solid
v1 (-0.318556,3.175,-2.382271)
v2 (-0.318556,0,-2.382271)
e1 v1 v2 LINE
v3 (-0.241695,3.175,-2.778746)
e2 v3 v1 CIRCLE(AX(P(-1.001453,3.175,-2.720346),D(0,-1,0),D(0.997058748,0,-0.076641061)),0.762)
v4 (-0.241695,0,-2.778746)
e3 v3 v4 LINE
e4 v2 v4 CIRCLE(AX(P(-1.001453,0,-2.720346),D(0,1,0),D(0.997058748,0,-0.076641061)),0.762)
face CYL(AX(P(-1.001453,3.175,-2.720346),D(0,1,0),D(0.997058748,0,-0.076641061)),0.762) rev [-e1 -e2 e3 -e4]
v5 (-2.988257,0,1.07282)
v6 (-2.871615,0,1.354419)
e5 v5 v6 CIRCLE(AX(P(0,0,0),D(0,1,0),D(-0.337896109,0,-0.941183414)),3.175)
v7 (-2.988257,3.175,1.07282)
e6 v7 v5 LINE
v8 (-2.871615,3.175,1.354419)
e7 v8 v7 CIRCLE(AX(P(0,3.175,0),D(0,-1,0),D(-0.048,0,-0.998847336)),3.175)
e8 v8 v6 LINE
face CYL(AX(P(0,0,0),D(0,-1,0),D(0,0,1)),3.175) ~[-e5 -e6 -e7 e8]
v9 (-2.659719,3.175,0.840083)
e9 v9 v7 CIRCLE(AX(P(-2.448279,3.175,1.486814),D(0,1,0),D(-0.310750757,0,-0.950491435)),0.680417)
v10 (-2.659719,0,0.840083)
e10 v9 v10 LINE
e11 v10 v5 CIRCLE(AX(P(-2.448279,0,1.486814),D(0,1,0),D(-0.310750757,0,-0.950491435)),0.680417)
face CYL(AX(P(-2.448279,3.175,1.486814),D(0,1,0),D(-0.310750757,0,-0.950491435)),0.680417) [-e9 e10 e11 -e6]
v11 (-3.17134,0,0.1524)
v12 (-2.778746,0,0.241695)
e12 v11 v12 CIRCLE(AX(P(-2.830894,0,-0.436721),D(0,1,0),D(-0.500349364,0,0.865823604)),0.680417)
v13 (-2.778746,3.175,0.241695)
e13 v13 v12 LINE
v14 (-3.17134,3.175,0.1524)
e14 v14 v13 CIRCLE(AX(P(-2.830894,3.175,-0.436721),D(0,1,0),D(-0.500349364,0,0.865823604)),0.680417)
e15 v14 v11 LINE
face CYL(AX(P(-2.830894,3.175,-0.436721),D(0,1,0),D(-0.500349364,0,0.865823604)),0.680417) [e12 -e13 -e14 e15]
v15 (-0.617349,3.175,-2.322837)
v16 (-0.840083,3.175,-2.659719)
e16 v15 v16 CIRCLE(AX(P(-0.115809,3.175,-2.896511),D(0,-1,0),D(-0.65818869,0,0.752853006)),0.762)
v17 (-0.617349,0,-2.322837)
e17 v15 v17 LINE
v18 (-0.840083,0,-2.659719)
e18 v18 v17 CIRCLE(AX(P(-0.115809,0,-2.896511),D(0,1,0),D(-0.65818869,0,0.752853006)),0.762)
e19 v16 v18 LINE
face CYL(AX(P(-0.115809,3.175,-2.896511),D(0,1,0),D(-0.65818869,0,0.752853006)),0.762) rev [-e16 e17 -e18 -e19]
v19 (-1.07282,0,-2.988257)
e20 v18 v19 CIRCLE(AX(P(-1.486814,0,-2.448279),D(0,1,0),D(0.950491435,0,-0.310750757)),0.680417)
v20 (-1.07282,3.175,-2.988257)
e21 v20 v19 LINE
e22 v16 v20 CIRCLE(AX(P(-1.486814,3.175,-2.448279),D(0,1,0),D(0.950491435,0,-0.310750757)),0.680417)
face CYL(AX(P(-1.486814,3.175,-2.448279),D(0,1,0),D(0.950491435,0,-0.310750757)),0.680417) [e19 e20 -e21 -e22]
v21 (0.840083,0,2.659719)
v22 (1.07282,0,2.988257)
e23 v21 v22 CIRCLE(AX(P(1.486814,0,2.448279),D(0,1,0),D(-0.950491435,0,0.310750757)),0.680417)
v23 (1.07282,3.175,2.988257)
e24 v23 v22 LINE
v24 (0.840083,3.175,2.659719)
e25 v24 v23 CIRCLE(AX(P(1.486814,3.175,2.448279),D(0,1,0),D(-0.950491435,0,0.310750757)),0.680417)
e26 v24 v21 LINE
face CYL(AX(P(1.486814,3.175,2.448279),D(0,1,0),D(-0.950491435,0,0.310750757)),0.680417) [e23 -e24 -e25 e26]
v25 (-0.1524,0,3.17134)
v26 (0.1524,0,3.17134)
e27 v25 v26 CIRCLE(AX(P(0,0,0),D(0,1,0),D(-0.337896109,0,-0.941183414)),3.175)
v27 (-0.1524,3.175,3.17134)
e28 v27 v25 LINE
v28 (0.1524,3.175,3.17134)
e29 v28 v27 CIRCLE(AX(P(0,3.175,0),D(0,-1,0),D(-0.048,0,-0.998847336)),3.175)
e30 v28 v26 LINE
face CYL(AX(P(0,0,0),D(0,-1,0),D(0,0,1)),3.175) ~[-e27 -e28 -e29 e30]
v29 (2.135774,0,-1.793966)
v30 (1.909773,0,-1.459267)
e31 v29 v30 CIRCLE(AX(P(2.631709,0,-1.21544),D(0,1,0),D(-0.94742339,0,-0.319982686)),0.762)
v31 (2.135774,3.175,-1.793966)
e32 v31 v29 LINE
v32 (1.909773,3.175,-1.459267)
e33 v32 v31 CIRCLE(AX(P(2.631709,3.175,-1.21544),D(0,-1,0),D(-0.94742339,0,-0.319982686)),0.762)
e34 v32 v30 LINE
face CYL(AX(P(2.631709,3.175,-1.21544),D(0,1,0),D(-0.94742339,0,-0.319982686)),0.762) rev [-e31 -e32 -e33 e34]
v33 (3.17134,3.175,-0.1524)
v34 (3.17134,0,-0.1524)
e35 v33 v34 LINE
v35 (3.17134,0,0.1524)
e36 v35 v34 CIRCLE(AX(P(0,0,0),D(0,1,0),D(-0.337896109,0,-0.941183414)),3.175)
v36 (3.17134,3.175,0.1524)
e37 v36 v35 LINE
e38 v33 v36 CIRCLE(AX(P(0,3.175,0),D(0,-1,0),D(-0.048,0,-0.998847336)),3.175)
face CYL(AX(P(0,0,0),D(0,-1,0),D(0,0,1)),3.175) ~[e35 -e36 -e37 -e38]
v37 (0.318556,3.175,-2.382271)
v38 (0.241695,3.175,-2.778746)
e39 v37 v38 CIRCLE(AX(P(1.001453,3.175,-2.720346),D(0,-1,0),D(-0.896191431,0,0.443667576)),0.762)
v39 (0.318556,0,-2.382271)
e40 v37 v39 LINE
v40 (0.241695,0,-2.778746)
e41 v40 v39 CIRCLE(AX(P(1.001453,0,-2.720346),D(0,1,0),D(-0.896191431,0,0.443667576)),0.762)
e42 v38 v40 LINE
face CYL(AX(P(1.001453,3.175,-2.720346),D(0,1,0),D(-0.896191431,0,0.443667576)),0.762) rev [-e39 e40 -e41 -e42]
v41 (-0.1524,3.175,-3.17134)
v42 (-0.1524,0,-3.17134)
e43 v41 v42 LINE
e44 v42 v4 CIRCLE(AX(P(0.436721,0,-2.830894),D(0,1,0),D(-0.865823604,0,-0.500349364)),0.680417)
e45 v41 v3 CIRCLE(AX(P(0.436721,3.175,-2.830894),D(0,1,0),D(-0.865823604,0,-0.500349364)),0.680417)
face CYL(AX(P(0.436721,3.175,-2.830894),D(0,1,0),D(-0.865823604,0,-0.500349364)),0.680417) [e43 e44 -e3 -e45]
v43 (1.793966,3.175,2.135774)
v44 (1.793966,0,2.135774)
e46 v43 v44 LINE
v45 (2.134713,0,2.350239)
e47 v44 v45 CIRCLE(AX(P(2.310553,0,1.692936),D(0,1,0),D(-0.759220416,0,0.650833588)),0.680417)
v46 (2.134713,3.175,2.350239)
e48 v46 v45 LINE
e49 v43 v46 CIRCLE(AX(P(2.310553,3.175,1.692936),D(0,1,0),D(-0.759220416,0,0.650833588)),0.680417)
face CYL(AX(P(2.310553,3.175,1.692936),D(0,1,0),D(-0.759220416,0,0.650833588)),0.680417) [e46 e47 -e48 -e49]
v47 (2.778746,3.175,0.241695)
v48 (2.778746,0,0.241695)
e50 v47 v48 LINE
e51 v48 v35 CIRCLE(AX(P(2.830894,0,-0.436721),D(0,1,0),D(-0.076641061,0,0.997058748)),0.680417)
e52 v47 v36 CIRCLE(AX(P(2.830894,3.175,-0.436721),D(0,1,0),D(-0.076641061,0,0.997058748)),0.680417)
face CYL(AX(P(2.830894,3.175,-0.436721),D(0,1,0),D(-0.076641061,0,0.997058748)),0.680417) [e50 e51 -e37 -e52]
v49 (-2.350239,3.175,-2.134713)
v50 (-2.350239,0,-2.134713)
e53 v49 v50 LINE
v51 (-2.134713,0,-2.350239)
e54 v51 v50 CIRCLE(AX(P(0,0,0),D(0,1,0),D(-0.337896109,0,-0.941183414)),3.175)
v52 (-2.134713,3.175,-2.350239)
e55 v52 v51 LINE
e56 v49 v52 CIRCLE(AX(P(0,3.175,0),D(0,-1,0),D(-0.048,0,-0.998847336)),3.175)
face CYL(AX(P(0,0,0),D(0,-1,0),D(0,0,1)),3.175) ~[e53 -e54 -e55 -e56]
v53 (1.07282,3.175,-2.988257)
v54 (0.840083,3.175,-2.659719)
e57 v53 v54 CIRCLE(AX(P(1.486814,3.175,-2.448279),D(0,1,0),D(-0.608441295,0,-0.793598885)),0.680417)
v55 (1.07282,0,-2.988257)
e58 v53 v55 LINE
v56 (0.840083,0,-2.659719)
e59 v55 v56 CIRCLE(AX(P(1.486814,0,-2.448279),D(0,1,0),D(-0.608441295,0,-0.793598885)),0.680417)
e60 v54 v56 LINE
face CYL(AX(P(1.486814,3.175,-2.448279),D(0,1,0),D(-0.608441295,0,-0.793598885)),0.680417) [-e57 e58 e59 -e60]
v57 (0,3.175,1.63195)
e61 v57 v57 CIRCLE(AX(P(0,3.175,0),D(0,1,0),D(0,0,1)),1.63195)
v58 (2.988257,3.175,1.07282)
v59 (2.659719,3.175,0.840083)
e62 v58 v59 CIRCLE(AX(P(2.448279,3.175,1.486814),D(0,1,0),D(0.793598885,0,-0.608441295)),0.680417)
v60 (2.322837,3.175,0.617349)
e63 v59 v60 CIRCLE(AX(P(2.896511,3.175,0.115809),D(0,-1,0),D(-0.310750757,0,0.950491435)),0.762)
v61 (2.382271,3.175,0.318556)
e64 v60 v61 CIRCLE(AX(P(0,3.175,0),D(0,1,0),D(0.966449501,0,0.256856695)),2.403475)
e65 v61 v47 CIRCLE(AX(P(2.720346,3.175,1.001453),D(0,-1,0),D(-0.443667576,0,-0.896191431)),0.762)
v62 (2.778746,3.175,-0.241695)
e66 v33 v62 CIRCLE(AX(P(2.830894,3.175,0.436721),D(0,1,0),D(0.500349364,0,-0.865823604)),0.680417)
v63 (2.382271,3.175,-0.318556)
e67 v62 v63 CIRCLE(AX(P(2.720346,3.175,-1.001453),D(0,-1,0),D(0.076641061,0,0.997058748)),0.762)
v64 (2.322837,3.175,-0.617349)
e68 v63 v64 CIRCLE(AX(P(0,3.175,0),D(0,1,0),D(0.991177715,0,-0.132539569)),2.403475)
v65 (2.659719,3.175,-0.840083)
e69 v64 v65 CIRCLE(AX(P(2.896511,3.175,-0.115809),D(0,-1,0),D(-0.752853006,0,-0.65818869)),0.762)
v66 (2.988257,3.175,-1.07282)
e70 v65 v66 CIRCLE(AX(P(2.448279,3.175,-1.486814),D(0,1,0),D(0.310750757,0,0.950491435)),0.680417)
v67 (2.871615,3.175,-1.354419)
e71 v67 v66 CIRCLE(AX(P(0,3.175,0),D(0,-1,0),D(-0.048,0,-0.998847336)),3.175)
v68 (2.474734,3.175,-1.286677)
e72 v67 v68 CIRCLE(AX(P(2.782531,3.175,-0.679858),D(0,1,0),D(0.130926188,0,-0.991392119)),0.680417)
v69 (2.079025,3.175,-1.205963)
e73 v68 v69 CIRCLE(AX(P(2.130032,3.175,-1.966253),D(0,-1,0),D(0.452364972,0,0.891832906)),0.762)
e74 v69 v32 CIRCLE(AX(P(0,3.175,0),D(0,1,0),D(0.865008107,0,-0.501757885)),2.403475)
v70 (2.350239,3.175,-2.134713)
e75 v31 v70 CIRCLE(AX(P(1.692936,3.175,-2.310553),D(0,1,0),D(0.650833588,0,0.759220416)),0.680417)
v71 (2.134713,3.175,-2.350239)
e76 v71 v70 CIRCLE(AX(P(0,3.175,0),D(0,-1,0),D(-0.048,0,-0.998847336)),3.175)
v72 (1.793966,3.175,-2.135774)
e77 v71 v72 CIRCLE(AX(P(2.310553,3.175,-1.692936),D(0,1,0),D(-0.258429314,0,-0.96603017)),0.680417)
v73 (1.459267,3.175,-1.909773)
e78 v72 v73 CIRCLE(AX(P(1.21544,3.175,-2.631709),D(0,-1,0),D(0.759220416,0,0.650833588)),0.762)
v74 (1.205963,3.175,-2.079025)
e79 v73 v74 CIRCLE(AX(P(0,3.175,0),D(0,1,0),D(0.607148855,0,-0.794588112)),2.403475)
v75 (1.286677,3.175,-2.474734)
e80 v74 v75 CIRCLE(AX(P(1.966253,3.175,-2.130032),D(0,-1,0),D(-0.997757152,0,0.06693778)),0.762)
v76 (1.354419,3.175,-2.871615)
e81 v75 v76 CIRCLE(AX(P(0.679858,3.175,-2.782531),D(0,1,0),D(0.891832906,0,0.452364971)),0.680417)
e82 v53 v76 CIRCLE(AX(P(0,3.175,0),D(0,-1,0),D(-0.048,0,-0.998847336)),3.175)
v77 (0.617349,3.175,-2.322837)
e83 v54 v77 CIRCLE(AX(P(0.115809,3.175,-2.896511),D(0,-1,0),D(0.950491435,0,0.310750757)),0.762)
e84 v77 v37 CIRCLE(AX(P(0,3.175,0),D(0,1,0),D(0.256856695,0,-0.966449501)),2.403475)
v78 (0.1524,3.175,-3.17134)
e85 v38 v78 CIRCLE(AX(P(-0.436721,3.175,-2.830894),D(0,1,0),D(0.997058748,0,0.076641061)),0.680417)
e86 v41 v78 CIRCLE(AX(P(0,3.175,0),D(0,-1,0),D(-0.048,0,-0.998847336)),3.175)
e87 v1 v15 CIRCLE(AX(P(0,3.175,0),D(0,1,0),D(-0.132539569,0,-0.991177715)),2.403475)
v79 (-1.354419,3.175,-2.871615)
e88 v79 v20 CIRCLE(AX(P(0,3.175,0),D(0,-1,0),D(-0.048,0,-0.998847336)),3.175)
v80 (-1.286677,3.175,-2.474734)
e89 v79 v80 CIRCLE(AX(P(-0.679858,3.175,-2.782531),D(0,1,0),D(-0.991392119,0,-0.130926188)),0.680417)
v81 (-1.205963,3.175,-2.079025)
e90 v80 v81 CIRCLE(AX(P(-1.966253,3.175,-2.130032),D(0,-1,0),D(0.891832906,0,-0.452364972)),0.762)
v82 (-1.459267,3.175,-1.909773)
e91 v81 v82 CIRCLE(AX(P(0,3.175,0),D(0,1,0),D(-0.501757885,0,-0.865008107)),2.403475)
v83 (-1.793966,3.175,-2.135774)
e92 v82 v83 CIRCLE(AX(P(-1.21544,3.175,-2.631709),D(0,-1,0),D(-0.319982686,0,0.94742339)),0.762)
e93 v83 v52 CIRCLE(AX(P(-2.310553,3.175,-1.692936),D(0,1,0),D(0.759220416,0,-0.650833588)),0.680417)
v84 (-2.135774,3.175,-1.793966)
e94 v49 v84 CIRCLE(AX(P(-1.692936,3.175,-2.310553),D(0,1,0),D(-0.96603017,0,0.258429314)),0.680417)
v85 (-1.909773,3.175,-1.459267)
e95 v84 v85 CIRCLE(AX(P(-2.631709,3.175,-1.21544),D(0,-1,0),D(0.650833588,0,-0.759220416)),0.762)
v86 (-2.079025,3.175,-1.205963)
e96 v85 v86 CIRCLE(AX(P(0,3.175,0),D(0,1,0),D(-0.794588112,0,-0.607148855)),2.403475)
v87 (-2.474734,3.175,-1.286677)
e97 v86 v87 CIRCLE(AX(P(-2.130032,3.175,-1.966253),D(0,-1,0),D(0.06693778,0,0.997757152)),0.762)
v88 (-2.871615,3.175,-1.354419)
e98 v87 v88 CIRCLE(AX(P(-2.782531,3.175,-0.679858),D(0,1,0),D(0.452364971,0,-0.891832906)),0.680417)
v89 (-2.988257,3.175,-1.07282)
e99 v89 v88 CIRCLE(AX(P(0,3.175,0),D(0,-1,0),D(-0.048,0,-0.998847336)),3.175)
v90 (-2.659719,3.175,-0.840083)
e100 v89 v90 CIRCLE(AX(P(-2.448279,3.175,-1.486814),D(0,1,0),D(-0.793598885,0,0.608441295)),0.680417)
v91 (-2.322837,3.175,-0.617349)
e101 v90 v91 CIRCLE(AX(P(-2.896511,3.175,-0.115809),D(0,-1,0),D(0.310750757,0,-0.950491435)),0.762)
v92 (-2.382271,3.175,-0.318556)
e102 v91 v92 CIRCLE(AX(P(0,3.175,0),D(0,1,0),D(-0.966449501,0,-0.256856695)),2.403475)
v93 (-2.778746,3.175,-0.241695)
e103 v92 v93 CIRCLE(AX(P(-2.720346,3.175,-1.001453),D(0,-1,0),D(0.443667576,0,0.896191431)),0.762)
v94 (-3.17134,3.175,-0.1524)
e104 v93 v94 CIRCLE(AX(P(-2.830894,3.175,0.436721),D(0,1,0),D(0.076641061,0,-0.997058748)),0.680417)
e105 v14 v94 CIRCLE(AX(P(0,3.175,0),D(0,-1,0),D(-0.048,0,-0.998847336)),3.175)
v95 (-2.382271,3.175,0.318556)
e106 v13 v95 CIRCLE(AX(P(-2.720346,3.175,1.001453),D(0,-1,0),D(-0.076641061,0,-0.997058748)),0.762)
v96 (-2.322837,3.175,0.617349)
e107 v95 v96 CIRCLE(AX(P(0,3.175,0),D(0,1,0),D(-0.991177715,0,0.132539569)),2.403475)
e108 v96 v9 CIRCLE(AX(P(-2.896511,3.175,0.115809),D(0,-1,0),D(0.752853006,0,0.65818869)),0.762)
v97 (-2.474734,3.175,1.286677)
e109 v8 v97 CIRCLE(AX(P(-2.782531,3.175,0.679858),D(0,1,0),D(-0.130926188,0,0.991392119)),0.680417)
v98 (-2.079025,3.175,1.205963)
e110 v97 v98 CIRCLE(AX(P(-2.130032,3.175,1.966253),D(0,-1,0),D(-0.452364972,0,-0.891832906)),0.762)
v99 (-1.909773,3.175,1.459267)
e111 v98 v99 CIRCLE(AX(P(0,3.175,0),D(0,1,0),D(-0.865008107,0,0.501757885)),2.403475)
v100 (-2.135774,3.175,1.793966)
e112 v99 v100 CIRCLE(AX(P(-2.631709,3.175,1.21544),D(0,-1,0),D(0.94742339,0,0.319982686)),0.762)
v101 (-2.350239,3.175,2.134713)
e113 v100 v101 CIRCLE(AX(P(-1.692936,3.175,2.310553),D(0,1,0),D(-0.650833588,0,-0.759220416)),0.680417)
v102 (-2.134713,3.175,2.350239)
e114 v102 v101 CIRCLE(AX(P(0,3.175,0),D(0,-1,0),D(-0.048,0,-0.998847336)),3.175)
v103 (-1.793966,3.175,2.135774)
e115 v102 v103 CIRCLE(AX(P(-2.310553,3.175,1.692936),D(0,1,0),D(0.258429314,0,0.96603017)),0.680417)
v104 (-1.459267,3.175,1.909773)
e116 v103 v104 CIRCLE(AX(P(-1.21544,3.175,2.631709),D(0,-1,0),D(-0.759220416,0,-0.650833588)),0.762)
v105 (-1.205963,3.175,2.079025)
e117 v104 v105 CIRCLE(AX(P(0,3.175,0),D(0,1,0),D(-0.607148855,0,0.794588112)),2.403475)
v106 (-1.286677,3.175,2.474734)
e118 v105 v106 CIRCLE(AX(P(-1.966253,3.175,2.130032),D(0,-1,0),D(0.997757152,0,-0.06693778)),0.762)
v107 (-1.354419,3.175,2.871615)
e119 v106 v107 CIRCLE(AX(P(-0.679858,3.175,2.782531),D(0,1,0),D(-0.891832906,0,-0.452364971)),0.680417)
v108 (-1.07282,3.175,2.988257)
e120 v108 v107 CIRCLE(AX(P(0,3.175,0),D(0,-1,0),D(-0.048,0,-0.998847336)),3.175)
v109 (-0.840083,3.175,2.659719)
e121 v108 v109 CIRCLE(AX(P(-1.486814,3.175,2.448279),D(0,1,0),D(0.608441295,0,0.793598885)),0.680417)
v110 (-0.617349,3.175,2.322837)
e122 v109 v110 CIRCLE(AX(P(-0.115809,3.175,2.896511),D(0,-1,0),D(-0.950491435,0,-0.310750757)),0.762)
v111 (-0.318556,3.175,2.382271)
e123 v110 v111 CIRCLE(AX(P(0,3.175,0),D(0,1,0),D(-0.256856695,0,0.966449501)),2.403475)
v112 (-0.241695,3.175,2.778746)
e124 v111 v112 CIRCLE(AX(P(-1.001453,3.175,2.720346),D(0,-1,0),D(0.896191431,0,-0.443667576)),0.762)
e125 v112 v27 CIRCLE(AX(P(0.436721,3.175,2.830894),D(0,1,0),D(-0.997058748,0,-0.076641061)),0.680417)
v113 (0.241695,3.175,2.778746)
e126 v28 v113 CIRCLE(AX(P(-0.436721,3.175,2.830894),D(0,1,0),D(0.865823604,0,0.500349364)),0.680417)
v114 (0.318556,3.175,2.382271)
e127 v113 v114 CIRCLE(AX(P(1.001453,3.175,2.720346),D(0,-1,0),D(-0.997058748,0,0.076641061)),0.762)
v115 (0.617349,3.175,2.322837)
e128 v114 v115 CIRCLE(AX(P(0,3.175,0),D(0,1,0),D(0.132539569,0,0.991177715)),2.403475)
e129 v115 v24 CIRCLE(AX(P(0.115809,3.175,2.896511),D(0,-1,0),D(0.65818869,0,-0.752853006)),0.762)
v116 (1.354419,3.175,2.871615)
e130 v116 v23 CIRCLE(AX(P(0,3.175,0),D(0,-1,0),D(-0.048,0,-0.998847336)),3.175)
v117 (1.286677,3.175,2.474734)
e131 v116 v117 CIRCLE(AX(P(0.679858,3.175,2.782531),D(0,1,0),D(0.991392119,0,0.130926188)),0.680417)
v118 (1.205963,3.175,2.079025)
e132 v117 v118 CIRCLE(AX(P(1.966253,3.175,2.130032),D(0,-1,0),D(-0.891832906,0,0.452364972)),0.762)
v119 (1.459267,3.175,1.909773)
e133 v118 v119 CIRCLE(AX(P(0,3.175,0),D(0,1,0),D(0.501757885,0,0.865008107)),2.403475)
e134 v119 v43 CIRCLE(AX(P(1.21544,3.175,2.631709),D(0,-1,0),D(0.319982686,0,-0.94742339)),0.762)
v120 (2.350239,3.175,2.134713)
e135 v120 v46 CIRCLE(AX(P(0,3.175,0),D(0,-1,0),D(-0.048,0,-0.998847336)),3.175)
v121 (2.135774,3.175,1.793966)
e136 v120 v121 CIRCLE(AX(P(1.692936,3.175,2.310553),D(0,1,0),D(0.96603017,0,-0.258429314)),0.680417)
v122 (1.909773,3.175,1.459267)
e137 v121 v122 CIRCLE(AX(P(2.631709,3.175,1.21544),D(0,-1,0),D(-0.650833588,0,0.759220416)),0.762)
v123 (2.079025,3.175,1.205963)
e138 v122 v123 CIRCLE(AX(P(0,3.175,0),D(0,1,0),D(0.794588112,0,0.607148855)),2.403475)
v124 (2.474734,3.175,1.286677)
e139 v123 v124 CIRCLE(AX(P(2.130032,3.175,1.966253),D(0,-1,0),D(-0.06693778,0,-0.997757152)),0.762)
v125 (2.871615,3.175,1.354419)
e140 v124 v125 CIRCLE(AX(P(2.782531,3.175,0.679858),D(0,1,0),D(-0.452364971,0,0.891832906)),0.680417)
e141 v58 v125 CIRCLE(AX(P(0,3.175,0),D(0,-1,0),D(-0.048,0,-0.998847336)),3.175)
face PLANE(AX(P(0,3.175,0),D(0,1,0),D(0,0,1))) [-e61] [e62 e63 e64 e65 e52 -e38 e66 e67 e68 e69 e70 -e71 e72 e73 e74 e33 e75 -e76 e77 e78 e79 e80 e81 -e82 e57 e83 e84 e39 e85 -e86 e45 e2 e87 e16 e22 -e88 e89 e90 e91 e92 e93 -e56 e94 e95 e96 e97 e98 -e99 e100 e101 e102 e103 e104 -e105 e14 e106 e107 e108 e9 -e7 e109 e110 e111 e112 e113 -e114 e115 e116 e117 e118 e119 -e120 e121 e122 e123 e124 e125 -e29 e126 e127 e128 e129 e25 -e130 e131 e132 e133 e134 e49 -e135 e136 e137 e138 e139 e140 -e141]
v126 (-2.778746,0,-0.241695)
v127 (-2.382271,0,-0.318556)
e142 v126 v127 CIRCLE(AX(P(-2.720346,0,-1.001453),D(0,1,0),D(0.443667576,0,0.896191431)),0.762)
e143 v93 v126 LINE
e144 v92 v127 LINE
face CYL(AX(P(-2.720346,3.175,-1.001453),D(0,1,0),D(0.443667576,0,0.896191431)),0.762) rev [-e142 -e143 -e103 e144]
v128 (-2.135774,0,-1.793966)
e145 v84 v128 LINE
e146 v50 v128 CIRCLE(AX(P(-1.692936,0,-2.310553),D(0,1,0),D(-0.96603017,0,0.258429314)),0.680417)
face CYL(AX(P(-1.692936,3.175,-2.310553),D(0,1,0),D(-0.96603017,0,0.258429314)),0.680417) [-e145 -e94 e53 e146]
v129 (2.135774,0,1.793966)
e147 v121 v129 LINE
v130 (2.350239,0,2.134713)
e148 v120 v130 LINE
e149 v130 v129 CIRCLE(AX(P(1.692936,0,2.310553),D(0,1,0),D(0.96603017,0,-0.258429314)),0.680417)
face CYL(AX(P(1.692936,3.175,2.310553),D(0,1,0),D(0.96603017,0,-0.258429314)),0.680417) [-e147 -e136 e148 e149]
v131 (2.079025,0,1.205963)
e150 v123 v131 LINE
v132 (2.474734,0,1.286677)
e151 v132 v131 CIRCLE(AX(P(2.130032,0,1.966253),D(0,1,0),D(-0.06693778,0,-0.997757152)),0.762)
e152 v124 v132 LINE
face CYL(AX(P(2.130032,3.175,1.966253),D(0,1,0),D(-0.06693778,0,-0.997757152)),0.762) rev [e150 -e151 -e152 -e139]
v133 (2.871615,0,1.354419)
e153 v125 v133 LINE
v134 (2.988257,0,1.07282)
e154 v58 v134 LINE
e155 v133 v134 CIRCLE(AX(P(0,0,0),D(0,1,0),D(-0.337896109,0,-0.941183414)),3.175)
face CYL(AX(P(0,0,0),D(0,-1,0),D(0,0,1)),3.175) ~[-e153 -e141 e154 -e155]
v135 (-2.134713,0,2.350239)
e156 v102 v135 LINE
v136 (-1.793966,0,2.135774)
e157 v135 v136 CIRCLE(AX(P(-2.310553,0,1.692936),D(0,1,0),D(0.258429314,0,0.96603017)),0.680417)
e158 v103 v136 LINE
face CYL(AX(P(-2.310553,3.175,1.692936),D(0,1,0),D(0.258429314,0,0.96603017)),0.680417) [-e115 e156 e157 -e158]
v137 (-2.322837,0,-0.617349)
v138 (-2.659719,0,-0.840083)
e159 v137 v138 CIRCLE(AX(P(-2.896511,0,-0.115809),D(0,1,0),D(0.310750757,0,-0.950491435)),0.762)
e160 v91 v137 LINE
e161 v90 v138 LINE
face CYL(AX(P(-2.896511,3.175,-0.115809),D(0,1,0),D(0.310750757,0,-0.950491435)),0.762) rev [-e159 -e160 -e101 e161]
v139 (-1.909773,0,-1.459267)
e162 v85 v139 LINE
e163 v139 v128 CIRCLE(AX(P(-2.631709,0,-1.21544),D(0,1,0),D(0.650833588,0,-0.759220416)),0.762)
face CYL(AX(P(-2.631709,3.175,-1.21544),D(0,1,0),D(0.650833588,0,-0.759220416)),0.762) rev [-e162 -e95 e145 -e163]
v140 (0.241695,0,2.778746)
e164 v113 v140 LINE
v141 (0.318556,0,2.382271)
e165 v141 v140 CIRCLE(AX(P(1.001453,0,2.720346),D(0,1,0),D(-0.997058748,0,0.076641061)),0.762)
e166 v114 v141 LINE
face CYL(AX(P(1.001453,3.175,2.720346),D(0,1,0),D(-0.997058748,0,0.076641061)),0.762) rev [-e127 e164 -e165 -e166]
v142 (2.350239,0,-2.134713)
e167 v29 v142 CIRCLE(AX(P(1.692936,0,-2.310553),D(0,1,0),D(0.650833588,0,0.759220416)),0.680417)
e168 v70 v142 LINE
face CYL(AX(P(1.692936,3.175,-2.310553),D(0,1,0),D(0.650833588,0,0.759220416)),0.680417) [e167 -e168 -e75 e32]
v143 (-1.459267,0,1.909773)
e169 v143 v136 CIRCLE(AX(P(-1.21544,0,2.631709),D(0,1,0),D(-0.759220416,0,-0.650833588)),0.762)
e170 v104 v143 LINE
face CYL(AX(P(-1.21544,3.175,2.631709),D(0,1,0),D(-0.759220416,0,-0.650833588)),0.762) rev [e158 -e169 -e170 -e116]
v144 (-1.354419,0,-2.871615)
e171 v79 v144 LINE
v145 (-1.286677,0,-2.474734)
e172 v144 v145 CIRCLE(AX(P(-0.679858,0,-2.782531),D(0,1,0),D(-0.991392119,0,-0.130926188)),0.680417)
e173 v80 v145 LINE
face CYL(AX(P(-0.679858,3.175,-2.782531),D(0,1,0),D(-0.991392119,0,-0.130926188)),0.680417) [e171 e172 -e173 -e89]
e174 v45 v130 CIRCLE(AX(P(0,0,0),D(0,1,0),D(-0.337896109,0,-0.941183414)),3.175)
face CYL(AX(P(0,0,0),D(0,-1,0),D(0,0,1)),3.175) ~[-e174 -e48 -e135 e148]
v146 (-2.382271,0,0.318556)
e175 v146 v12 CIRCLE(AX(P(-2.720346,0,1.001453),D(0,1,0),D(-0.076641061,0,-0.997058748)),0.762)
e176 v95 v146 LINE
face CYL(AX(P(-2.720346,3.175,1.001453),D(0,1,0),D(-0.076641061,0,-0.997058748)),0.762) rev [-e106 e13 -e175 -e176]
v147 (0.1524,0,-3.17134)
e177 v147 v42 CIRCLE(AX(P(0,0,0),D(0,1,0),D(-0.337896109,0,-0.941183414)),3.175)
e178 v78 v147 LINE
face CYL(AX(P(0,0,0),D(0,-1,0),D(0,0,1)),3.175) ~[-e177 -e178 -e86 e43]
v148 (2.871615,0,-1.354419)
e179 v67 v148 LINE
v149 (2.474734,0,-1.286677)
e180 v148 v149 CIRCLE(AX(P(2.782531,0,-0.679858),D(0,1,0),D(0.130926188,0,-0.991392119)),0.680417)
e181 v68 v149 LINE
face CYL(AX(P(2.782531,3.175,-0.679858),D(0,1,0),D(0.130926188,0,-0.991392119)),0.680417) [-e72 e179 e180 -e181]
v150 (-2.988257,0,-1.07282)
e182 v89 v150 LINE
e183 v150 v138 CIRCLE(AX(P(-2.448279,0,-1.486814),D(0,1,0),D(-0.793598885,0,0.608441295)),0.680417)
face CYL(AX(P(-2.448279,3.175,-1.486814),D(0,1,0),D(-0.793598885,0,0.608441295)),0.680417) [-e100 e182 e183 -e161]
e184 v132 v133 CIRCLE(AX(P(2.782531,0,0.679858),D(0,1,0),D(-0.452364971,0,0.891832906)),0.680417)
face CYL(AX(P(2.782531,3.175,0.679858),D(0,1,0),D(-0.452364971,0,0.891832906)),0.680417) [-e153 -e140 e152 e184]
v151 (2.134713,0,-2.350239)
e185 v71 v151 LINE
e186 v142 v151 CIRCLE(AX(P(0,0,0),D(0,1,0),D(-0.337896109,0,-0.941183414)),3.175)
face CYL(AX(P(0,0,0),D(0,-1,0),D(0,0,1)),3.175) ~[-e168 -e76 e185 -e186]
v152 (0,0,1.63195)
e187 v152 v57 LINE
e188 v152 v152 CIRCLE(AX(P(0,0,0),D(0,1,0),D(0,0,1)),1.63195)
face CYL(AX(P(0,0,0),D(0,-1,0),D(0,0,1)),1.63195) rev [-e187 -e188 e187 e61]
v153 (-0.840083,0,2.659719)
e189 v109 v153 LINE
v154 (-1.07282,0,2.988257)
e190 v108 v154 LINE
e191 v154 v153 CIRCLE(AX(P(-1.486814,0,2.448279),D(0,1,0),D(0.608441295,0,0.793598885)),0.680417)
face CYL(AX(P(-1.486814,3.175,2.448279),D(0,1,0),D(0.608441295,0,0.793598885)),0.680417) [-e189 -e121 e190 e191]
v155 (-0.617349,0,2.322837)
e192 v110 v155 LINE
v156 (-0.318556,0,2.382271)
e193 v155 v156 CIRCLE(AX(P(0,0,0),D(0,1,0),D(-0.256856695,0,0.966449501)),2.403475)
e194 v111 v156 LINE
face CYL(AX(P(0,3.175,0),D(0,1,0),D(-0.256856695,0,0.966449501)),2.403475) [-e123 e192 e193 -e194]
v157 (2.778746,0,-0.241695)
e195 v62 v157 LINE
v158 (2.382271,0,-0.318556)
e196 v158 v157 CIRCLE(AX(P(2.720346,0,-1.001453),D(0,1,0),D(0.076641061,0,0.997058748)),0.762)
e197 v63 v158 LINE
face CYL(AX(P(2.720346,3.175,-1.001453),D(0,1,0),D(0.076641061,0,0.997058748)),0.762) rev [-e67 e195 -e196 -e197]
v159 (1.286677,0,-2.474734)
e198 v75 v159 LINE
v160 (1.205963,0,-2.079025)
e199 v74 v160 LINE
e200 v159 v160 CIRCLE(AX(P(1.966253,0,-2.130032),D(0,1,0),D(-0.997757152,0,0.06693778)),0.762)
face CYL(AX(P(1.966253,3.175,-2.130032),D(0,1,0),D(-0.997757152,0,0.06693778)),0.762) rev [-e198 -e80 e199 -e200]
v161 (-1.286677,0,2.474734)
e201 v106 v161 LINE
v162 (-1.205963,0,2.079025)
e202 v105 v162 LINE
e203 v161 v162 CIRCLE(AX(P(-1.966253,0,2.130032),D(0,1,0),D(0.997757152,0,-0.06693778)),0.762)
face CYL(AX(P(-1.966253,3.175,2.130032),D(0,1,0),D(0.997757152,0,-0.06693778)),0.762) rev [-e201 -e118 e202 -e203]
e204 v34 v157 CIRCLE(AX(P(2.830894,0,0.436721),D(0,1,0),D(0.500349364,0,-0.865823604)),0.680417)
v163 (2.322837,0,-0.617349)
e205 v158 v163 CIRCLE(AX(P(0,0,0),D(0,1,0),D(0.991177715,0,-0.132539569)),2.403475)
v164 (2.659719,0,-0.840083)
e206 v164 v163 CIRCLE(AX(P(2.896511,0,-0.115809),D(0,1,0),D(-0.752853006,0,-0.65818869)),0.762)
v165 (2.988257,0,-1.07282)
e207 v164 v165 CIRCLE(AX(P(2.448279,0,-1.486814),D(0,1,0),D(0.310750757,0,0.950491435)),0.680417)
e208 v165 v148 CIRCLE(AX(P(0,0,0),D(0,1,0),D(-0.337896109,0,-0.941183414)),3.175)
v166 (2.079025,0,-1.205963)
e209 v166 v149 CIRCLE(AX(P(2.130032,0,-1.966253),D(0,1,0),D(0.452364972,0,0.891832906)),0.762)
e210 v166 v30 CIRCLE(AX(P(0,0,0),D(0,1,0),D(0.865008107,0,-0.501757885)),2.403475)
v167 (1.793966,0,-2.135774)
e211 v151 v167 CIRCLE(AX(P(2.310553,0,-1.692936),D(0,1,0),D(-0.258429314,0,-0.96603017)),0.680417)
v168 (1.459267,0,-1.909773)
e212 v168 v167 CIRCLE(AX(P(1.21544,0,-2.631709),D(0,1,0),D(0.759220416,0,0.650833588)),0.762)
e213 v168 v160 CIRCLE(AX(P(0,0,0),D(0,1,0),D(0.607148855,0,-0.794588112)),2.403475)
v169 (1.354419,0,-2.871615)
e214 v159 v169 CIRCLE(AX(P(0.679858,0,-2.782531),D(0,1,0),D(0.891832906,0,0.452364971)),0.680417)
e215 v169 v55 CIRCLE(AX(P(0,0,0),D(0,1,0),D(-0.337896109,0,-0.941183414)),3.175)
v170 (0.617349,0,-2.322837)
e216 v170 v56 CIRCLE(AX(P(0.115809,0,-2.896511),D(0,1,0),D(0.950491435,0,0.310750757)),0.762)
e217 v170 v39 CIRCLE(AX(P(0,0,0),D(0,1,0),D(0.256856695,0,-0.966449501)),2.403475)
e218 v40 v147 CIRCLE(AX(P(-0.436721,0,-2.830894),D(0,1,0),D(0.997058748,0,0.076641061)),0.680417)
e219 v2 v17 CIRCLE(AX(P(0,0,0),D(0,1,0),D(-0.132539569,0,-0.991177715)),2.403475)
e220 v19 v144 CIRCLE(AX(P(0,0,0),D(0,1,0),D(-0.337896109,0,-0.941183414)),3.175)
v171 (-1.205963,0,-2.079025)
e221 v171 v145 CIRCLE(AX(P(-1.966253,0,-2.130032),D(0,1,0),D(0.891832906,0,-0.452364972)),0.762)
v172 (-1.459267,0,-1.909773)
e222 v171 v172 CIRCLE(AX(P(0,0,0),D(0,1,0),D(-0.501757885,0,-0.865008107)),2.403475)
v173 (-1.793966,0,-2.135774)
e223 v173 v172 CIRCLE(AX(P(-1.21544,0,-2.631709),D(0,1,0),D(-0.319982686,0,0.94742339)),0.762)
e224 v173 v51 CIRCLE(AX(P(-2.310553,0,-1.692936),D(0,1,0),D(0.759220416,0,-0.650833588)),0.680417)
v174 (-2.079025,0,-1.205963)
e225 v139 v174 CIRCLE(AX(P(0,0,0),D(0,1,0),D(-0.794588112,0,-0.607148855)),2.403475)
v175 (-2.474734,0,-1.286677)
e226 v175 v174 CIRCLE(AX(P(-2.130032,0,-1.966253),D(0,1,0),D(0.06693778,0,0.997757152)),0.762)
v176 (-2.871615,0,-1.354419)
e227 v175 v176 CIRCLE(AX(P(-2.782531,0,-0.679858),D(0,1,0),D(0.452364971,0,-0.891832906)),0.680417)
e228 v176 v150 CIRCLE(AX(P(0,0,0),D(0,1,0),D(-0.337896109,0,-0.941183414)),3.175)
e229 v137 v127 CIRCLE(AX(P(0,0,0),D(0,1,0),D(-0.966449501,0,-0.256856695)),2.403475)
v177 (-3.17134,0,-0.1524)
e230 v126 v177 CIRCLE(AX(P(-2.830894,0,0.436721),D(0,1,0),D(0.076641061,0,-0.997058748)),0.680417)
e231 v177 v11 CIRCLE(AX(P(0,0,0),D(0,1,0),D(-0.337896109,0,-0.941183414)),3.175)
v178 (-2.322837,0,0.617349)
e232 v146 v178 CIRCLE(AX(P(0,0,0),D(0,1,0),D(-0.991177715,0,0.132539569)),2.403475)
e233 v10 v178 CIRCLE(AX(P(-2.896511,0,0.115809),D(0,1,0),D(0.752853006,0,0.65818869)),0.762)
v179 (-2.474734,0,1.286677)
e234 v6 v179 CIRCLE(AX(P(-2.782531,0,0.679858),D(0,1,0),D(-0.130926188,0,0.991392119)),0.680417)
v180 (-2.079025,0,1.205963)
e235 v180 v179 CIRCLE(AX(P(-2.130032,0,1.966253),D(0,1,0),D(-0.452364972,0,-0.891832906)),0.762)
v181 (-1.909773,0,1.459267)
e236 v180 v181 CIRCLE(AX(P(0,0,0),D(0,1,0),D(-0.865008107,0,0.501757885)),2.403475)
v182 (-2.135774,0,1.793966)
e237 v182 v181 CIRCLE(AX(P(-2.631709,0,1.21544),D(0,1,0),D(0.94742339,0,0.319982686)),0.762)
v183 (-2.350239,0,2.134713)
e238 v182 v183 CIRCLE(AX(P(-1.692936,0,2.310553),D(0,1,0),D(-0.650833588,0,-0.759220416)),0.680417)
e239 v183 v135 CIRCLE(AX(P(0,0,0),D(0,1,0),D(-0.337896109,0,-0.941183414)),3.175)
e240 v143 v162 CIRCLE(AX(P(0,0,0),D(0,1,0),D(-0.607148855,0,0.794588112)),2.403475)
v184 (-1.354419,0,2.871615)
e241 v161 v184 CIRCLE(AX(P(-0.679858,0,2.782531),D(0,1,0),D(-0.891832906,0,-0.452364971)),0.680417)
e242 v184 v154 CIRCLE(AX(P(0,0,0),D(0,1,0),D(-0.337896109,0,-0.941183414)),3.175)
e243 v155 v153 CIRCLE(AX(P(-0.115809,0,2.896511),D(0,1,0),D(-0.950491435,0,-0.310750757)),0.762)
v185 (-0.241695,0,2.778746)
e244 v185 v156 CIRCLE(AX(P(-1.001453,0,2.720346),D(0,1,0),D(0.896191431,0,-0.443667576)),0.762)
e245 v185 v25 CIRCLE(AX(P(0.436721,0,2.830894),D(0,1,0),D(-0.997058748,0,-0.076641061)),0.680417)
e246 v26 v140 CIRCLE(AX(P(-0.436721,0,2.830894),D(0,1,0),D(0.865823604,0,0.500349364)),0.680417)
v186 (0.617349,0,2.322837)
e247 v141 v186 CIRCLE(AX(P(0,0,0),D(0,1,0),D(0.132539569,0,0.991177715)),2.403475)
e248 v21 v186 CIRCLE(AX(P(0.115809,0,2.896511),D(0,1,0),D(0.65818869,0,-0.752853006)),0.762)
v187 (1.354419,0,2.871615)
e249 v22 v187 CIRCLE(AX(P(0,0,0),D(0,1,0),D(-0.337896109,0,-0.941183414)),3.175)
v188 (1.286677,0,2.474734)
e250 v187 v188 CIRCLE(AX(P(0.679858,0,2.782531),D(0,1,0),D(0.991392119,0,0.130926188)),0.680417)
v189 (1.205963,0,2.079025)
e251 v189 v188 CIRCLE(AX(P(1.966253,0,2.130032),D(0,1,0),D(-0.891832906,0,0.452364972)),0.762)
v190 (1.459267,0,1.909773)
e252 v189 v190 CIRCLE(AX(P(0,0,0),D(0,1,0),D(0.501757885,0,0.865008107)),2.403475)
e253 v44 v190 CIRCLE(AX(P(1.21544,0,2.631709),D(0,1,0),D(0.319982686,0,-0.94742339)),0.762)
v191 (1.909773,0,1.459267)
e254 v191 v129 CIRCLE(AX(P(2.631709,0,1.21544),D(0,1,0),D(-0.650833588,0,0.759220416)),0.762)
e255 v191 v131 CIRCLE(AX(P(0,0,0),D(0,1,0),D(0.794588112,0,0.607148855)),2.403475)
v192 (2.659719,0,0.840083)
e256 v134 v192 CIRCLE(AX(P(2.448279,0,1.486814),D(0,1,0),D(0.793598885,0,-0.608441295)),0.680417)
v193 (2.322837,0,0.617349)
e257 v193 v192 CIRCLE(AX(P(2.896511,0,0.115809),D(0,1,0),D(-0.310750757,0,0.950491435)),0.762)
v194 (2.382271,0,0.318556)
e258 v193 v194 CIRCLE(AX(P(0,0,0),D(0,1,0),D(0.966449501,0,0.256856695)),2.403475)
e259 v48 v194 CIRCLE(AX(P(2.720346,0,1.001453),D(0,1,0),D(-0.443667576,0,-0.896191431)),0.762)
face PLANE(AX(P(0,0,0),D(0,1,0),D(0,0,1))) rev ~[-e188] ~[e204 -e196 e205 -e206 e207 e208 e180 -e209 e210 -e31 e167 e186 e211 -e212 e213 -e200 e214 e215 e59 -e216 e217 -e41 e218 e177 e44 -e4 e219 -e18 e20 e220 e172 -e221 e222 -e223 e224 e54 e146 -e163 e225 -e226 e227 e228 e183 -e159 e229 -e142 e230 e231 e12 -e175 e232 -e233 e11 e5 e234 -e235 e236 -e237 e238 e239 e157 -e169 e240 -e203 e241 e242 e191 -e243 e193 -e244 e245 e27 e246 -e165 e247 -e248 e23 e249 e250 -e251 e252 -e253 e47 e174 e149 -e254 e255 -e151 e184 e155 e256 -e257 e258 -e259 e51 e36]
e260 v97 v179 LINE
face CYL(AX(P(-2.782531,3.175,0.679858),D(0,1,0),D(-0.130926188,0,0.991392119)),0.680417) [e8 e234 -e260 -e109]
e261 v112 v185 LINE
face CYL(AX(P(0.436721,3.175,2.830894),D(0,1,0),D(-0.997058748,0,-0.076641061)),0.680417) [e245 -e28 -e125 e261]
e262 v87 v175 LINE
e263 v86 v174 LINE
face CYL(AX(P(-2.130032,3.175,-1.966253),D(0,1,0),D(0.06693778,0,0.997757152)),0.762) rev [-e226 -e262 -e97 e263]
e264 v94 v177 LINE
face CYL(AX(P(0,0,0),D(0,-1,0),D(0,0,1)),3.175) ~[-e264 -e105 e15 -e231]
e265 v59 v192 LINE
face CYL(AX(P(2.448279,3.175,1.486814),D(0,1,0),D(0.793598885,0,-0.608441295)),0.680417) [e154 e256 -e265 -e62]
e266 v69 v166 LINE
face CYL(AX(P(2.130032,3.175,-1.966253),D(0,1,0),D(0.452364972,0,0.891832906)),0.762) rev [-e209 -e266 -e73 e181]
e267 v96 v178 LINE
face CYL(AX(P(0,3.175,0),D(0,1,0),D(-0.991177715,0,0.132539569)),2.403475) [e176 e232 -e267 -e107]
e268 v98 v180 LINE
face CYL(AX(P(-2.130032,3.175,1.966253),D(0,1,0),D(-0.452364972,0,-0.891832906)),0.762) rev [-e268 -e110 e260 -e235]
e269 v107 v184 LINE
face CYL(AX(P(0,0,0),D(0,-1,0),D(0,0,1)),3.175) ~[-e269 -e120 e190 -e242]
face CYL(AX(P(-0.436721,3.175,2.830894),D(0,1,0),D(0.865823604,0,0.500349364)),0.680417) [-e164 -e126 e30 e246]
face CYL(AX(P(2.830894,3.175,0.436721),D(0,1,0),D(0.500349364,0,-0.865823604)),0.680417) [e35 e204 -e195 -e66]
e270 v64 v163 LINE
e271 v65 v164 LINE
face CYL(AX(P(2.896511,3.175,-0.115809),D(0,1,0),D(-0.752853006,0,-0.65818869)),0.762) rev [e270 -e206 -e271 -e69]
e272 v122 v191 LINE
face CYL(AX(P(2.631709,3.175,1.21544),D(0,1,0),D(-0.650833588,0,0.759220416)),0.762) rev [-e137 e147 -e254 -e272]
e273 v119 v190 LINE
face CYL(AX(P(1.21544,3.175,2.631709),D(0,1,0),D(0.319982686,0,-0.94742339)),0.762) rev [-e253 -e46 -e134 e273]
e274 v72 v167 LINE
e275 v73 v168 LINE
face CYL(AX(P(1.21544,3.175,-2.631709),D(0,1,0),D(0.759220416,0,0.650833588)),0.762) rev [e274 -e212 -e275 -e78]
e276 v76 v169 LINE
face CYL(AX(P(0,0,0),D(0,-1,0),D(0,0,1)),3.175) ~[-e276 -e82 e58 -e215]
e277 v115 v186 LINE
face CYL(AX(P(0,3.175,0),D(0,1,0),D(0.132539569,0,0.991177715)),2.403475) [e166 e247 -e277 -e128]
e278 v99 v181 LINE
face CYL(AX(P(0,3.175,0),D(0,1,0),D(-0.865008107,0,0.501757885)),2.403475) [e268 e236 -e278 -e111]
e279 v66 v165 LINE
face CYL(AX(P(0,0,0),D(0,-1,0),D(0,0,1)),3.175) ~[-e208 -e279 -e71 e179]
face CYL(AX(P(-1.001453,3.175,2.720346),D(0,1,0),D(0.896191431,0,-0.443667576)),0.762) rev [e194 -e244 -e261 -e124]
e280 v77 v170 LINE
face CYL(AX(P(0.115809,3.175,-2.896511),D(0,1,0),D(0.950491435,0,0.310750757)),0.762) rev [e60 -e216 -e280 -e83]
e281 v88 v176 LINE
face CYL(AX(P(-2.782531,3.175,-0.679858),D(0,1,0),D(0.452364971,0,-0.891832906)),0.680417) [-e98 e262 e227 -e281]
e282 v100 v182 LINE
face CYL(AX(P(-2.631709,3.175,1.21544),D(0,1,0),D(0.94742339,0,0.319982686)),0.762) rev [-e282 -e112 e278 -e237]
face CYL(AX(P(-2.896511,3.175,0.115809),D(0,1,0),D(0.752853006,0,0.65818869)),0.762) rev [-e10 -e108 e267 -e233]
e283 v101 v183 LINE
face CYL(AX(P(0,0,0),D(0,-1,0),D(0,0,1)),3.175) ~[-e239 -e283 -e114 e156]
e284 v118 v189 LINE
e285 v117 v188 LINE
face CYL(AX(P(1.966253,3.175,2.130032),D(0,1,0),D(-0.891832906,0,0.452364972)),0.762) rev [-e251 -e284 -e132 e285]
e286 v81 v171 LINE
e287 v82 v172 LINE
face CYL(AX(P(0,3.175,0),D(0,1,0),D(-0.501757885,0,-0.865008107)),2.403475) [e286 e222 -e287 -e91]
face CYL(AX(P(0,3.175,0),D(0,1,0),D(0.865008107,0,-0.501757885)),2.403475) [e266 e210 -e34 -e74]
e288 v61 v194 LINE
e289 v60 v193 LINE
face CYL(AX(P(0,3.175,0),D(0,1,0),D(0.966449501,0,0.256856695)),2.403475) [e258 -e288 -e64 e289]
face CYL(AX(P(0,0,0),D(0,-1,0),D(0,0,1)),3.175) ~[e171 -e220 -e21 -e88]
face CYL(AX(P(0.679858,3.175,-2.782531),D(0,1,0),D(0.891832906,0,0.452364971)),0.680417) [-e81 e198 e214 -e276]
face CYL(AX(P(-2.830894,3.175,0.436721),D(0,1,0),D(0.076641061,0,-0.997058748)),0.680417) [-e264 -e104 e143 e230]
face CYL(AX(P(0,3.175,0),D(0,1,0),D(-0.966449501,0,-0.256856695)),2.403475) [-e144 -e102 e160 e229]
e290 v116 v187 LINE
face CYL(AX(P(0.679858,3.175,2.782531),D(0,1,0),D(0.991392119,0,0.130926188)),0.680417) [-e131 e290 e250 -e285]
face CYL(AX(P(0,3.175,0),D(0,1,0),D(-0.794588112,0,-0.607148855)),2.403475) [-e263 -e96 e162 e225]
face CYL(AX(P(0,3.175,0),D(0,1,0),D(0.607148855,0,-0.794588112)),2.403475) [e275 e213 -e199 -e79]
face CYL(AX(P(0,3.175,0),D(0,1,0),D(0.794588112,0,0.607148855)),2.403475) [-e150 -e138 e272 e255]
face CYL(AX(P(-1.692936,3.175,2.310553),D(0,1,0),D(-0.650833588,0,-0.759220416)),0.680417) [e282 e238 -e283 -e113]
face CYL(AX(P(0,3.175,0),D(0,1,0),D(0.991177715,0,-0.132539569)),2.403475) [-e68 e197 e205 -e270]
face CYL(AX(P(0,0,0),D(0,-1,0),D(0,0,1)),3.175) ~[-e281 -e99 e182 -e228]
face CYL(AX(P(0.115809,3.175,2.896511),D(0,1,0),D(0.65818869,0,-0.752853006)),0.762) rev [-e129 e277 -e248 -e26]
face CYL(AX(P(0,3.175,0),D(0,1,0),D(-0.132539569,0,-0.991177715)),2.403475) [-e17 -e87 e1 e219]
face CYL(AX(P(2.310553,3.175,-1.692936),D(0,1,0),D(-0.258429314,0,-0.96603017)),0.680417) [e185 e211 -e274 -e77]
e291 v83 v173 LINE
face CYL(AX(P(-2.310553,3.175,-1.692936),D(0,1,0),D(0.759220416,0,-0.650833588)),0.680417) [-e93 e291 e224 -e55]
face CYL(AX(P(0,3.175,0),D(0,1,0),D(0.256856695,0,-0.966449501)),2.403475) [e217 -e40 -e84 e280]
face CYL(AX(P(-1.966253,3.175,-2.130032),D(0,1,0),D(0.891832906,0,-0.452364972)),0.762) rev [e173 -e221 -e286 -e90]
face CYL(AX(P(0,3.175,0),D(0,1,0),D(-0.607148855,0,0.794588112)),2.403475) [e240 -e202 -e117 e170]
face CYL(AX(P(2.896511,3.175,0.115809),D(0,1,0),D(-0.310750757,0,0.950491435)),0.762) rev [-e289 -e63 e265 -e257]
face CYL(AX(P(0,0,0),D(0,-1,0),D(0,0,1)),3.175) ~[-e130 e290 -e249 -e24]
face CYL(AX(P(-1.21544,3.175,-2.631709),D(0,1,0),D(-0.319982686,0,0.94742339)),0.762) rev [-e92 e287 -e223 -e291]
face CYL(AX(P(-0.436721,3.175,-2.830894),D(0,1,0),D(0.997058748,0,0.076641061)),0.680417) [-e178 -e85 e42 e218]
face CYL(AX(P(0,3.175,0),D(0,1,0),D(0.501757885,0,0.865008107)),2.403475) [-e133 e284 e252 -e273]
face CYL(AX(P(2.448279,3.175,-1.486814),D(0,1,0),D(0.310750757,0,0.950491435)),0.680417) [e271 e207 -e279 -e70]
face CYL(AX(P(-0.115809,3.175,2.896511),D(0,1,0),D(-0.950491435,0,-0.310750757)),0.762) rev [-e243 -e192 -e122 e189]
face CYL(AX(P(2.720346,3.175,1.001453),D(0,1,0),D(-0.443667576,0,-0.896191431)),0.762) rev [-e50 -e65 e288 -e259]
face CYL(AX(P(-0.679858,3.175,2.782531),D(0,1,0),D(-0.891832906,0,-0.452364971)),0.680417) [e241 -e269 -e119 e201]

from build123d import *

# Parameters (mm, degrees)
SKETCH1_R           = 3.175
SKETCH1_R_2         = 1.63195
BOSS_EXTRUDE1_DEPTH = 3.175
CUT_EXTRUDE1_DEPTH  = 6.499261314
CIRPATTERN1_COUNT   = 16


with BuildPart() as part:
    # Sketch1 → Boss-Extrude1 (new body)
    with BuildSketch(Plane(origin=(0, 0, 0), x_dir=(1, 0, 0), z_dir=(0, 1, 0))):
        with Locations(Location((0, 0, 0), (0, 0, 270))):
            Circle(SKETCH1_R)
        with Locations(Location((0, 0, 0), (0, 0, 270))):
            Circle(SKETCH1_R_2, mode=Mode.SUBTRACT)
    extrude(amount=BOSS_EXTRUDE1_DEPTH)

    # Sketch2 → Cut-Extrude1 (cut, through all)
    with BuildSketch(Plane(origin=(0, 3.175, 0), x_dir=(1, 0, 0), z_dir=(0, 1, 0))):
        with BuildLine():
            ThreePointArc((-0.1524, 3.171340291), (-0.226750807, 2.98179915), (-0.241694661, 2.778746034))
            ThreePointArc((-0.241694661, 2.778746034), (-0.25338078, 2.575323775), (-0.318555556, 2.382270856))
            ThreePointArc((-0.318555556, 2.382270856), (-0.468894712, 2.357292902), (-0.61734863, 2.322837219))
            ThreePointArc((-0.61734863, 2.322837219), (-0.751440425, 2.476253552), (-0.84008332, 2.659719129))
            ThreePointArc((-0.84008332, 2.659719129), (-0.931594704, 2.841596982), (-1.072820147, 2.98825734))
            ThreePointArc((-1.072820147, 2.98825734), (-0.619411772, 3.113993265), (-0.1524, 3.171340291))
        make_face()
    cut_extrude1 = extrude(amount=-CUT_EXTRUDE1_DEPTH, mode=Mode.SUBTRACT)

    # CirPattern1: Cut-Extrude1 ×16 about axis
    cirpattern1_axis = Axis((0, 0, 0), (0, 1, 0))
    for i in range(1, CIRPATTERN1_COUNT):
        add(cut_extrude1.rotate(cirpattern1_axis, i * 360 / CIRPATTERN1_COUNT), mode=Mode.SUBTRACT)


solid = part.part
